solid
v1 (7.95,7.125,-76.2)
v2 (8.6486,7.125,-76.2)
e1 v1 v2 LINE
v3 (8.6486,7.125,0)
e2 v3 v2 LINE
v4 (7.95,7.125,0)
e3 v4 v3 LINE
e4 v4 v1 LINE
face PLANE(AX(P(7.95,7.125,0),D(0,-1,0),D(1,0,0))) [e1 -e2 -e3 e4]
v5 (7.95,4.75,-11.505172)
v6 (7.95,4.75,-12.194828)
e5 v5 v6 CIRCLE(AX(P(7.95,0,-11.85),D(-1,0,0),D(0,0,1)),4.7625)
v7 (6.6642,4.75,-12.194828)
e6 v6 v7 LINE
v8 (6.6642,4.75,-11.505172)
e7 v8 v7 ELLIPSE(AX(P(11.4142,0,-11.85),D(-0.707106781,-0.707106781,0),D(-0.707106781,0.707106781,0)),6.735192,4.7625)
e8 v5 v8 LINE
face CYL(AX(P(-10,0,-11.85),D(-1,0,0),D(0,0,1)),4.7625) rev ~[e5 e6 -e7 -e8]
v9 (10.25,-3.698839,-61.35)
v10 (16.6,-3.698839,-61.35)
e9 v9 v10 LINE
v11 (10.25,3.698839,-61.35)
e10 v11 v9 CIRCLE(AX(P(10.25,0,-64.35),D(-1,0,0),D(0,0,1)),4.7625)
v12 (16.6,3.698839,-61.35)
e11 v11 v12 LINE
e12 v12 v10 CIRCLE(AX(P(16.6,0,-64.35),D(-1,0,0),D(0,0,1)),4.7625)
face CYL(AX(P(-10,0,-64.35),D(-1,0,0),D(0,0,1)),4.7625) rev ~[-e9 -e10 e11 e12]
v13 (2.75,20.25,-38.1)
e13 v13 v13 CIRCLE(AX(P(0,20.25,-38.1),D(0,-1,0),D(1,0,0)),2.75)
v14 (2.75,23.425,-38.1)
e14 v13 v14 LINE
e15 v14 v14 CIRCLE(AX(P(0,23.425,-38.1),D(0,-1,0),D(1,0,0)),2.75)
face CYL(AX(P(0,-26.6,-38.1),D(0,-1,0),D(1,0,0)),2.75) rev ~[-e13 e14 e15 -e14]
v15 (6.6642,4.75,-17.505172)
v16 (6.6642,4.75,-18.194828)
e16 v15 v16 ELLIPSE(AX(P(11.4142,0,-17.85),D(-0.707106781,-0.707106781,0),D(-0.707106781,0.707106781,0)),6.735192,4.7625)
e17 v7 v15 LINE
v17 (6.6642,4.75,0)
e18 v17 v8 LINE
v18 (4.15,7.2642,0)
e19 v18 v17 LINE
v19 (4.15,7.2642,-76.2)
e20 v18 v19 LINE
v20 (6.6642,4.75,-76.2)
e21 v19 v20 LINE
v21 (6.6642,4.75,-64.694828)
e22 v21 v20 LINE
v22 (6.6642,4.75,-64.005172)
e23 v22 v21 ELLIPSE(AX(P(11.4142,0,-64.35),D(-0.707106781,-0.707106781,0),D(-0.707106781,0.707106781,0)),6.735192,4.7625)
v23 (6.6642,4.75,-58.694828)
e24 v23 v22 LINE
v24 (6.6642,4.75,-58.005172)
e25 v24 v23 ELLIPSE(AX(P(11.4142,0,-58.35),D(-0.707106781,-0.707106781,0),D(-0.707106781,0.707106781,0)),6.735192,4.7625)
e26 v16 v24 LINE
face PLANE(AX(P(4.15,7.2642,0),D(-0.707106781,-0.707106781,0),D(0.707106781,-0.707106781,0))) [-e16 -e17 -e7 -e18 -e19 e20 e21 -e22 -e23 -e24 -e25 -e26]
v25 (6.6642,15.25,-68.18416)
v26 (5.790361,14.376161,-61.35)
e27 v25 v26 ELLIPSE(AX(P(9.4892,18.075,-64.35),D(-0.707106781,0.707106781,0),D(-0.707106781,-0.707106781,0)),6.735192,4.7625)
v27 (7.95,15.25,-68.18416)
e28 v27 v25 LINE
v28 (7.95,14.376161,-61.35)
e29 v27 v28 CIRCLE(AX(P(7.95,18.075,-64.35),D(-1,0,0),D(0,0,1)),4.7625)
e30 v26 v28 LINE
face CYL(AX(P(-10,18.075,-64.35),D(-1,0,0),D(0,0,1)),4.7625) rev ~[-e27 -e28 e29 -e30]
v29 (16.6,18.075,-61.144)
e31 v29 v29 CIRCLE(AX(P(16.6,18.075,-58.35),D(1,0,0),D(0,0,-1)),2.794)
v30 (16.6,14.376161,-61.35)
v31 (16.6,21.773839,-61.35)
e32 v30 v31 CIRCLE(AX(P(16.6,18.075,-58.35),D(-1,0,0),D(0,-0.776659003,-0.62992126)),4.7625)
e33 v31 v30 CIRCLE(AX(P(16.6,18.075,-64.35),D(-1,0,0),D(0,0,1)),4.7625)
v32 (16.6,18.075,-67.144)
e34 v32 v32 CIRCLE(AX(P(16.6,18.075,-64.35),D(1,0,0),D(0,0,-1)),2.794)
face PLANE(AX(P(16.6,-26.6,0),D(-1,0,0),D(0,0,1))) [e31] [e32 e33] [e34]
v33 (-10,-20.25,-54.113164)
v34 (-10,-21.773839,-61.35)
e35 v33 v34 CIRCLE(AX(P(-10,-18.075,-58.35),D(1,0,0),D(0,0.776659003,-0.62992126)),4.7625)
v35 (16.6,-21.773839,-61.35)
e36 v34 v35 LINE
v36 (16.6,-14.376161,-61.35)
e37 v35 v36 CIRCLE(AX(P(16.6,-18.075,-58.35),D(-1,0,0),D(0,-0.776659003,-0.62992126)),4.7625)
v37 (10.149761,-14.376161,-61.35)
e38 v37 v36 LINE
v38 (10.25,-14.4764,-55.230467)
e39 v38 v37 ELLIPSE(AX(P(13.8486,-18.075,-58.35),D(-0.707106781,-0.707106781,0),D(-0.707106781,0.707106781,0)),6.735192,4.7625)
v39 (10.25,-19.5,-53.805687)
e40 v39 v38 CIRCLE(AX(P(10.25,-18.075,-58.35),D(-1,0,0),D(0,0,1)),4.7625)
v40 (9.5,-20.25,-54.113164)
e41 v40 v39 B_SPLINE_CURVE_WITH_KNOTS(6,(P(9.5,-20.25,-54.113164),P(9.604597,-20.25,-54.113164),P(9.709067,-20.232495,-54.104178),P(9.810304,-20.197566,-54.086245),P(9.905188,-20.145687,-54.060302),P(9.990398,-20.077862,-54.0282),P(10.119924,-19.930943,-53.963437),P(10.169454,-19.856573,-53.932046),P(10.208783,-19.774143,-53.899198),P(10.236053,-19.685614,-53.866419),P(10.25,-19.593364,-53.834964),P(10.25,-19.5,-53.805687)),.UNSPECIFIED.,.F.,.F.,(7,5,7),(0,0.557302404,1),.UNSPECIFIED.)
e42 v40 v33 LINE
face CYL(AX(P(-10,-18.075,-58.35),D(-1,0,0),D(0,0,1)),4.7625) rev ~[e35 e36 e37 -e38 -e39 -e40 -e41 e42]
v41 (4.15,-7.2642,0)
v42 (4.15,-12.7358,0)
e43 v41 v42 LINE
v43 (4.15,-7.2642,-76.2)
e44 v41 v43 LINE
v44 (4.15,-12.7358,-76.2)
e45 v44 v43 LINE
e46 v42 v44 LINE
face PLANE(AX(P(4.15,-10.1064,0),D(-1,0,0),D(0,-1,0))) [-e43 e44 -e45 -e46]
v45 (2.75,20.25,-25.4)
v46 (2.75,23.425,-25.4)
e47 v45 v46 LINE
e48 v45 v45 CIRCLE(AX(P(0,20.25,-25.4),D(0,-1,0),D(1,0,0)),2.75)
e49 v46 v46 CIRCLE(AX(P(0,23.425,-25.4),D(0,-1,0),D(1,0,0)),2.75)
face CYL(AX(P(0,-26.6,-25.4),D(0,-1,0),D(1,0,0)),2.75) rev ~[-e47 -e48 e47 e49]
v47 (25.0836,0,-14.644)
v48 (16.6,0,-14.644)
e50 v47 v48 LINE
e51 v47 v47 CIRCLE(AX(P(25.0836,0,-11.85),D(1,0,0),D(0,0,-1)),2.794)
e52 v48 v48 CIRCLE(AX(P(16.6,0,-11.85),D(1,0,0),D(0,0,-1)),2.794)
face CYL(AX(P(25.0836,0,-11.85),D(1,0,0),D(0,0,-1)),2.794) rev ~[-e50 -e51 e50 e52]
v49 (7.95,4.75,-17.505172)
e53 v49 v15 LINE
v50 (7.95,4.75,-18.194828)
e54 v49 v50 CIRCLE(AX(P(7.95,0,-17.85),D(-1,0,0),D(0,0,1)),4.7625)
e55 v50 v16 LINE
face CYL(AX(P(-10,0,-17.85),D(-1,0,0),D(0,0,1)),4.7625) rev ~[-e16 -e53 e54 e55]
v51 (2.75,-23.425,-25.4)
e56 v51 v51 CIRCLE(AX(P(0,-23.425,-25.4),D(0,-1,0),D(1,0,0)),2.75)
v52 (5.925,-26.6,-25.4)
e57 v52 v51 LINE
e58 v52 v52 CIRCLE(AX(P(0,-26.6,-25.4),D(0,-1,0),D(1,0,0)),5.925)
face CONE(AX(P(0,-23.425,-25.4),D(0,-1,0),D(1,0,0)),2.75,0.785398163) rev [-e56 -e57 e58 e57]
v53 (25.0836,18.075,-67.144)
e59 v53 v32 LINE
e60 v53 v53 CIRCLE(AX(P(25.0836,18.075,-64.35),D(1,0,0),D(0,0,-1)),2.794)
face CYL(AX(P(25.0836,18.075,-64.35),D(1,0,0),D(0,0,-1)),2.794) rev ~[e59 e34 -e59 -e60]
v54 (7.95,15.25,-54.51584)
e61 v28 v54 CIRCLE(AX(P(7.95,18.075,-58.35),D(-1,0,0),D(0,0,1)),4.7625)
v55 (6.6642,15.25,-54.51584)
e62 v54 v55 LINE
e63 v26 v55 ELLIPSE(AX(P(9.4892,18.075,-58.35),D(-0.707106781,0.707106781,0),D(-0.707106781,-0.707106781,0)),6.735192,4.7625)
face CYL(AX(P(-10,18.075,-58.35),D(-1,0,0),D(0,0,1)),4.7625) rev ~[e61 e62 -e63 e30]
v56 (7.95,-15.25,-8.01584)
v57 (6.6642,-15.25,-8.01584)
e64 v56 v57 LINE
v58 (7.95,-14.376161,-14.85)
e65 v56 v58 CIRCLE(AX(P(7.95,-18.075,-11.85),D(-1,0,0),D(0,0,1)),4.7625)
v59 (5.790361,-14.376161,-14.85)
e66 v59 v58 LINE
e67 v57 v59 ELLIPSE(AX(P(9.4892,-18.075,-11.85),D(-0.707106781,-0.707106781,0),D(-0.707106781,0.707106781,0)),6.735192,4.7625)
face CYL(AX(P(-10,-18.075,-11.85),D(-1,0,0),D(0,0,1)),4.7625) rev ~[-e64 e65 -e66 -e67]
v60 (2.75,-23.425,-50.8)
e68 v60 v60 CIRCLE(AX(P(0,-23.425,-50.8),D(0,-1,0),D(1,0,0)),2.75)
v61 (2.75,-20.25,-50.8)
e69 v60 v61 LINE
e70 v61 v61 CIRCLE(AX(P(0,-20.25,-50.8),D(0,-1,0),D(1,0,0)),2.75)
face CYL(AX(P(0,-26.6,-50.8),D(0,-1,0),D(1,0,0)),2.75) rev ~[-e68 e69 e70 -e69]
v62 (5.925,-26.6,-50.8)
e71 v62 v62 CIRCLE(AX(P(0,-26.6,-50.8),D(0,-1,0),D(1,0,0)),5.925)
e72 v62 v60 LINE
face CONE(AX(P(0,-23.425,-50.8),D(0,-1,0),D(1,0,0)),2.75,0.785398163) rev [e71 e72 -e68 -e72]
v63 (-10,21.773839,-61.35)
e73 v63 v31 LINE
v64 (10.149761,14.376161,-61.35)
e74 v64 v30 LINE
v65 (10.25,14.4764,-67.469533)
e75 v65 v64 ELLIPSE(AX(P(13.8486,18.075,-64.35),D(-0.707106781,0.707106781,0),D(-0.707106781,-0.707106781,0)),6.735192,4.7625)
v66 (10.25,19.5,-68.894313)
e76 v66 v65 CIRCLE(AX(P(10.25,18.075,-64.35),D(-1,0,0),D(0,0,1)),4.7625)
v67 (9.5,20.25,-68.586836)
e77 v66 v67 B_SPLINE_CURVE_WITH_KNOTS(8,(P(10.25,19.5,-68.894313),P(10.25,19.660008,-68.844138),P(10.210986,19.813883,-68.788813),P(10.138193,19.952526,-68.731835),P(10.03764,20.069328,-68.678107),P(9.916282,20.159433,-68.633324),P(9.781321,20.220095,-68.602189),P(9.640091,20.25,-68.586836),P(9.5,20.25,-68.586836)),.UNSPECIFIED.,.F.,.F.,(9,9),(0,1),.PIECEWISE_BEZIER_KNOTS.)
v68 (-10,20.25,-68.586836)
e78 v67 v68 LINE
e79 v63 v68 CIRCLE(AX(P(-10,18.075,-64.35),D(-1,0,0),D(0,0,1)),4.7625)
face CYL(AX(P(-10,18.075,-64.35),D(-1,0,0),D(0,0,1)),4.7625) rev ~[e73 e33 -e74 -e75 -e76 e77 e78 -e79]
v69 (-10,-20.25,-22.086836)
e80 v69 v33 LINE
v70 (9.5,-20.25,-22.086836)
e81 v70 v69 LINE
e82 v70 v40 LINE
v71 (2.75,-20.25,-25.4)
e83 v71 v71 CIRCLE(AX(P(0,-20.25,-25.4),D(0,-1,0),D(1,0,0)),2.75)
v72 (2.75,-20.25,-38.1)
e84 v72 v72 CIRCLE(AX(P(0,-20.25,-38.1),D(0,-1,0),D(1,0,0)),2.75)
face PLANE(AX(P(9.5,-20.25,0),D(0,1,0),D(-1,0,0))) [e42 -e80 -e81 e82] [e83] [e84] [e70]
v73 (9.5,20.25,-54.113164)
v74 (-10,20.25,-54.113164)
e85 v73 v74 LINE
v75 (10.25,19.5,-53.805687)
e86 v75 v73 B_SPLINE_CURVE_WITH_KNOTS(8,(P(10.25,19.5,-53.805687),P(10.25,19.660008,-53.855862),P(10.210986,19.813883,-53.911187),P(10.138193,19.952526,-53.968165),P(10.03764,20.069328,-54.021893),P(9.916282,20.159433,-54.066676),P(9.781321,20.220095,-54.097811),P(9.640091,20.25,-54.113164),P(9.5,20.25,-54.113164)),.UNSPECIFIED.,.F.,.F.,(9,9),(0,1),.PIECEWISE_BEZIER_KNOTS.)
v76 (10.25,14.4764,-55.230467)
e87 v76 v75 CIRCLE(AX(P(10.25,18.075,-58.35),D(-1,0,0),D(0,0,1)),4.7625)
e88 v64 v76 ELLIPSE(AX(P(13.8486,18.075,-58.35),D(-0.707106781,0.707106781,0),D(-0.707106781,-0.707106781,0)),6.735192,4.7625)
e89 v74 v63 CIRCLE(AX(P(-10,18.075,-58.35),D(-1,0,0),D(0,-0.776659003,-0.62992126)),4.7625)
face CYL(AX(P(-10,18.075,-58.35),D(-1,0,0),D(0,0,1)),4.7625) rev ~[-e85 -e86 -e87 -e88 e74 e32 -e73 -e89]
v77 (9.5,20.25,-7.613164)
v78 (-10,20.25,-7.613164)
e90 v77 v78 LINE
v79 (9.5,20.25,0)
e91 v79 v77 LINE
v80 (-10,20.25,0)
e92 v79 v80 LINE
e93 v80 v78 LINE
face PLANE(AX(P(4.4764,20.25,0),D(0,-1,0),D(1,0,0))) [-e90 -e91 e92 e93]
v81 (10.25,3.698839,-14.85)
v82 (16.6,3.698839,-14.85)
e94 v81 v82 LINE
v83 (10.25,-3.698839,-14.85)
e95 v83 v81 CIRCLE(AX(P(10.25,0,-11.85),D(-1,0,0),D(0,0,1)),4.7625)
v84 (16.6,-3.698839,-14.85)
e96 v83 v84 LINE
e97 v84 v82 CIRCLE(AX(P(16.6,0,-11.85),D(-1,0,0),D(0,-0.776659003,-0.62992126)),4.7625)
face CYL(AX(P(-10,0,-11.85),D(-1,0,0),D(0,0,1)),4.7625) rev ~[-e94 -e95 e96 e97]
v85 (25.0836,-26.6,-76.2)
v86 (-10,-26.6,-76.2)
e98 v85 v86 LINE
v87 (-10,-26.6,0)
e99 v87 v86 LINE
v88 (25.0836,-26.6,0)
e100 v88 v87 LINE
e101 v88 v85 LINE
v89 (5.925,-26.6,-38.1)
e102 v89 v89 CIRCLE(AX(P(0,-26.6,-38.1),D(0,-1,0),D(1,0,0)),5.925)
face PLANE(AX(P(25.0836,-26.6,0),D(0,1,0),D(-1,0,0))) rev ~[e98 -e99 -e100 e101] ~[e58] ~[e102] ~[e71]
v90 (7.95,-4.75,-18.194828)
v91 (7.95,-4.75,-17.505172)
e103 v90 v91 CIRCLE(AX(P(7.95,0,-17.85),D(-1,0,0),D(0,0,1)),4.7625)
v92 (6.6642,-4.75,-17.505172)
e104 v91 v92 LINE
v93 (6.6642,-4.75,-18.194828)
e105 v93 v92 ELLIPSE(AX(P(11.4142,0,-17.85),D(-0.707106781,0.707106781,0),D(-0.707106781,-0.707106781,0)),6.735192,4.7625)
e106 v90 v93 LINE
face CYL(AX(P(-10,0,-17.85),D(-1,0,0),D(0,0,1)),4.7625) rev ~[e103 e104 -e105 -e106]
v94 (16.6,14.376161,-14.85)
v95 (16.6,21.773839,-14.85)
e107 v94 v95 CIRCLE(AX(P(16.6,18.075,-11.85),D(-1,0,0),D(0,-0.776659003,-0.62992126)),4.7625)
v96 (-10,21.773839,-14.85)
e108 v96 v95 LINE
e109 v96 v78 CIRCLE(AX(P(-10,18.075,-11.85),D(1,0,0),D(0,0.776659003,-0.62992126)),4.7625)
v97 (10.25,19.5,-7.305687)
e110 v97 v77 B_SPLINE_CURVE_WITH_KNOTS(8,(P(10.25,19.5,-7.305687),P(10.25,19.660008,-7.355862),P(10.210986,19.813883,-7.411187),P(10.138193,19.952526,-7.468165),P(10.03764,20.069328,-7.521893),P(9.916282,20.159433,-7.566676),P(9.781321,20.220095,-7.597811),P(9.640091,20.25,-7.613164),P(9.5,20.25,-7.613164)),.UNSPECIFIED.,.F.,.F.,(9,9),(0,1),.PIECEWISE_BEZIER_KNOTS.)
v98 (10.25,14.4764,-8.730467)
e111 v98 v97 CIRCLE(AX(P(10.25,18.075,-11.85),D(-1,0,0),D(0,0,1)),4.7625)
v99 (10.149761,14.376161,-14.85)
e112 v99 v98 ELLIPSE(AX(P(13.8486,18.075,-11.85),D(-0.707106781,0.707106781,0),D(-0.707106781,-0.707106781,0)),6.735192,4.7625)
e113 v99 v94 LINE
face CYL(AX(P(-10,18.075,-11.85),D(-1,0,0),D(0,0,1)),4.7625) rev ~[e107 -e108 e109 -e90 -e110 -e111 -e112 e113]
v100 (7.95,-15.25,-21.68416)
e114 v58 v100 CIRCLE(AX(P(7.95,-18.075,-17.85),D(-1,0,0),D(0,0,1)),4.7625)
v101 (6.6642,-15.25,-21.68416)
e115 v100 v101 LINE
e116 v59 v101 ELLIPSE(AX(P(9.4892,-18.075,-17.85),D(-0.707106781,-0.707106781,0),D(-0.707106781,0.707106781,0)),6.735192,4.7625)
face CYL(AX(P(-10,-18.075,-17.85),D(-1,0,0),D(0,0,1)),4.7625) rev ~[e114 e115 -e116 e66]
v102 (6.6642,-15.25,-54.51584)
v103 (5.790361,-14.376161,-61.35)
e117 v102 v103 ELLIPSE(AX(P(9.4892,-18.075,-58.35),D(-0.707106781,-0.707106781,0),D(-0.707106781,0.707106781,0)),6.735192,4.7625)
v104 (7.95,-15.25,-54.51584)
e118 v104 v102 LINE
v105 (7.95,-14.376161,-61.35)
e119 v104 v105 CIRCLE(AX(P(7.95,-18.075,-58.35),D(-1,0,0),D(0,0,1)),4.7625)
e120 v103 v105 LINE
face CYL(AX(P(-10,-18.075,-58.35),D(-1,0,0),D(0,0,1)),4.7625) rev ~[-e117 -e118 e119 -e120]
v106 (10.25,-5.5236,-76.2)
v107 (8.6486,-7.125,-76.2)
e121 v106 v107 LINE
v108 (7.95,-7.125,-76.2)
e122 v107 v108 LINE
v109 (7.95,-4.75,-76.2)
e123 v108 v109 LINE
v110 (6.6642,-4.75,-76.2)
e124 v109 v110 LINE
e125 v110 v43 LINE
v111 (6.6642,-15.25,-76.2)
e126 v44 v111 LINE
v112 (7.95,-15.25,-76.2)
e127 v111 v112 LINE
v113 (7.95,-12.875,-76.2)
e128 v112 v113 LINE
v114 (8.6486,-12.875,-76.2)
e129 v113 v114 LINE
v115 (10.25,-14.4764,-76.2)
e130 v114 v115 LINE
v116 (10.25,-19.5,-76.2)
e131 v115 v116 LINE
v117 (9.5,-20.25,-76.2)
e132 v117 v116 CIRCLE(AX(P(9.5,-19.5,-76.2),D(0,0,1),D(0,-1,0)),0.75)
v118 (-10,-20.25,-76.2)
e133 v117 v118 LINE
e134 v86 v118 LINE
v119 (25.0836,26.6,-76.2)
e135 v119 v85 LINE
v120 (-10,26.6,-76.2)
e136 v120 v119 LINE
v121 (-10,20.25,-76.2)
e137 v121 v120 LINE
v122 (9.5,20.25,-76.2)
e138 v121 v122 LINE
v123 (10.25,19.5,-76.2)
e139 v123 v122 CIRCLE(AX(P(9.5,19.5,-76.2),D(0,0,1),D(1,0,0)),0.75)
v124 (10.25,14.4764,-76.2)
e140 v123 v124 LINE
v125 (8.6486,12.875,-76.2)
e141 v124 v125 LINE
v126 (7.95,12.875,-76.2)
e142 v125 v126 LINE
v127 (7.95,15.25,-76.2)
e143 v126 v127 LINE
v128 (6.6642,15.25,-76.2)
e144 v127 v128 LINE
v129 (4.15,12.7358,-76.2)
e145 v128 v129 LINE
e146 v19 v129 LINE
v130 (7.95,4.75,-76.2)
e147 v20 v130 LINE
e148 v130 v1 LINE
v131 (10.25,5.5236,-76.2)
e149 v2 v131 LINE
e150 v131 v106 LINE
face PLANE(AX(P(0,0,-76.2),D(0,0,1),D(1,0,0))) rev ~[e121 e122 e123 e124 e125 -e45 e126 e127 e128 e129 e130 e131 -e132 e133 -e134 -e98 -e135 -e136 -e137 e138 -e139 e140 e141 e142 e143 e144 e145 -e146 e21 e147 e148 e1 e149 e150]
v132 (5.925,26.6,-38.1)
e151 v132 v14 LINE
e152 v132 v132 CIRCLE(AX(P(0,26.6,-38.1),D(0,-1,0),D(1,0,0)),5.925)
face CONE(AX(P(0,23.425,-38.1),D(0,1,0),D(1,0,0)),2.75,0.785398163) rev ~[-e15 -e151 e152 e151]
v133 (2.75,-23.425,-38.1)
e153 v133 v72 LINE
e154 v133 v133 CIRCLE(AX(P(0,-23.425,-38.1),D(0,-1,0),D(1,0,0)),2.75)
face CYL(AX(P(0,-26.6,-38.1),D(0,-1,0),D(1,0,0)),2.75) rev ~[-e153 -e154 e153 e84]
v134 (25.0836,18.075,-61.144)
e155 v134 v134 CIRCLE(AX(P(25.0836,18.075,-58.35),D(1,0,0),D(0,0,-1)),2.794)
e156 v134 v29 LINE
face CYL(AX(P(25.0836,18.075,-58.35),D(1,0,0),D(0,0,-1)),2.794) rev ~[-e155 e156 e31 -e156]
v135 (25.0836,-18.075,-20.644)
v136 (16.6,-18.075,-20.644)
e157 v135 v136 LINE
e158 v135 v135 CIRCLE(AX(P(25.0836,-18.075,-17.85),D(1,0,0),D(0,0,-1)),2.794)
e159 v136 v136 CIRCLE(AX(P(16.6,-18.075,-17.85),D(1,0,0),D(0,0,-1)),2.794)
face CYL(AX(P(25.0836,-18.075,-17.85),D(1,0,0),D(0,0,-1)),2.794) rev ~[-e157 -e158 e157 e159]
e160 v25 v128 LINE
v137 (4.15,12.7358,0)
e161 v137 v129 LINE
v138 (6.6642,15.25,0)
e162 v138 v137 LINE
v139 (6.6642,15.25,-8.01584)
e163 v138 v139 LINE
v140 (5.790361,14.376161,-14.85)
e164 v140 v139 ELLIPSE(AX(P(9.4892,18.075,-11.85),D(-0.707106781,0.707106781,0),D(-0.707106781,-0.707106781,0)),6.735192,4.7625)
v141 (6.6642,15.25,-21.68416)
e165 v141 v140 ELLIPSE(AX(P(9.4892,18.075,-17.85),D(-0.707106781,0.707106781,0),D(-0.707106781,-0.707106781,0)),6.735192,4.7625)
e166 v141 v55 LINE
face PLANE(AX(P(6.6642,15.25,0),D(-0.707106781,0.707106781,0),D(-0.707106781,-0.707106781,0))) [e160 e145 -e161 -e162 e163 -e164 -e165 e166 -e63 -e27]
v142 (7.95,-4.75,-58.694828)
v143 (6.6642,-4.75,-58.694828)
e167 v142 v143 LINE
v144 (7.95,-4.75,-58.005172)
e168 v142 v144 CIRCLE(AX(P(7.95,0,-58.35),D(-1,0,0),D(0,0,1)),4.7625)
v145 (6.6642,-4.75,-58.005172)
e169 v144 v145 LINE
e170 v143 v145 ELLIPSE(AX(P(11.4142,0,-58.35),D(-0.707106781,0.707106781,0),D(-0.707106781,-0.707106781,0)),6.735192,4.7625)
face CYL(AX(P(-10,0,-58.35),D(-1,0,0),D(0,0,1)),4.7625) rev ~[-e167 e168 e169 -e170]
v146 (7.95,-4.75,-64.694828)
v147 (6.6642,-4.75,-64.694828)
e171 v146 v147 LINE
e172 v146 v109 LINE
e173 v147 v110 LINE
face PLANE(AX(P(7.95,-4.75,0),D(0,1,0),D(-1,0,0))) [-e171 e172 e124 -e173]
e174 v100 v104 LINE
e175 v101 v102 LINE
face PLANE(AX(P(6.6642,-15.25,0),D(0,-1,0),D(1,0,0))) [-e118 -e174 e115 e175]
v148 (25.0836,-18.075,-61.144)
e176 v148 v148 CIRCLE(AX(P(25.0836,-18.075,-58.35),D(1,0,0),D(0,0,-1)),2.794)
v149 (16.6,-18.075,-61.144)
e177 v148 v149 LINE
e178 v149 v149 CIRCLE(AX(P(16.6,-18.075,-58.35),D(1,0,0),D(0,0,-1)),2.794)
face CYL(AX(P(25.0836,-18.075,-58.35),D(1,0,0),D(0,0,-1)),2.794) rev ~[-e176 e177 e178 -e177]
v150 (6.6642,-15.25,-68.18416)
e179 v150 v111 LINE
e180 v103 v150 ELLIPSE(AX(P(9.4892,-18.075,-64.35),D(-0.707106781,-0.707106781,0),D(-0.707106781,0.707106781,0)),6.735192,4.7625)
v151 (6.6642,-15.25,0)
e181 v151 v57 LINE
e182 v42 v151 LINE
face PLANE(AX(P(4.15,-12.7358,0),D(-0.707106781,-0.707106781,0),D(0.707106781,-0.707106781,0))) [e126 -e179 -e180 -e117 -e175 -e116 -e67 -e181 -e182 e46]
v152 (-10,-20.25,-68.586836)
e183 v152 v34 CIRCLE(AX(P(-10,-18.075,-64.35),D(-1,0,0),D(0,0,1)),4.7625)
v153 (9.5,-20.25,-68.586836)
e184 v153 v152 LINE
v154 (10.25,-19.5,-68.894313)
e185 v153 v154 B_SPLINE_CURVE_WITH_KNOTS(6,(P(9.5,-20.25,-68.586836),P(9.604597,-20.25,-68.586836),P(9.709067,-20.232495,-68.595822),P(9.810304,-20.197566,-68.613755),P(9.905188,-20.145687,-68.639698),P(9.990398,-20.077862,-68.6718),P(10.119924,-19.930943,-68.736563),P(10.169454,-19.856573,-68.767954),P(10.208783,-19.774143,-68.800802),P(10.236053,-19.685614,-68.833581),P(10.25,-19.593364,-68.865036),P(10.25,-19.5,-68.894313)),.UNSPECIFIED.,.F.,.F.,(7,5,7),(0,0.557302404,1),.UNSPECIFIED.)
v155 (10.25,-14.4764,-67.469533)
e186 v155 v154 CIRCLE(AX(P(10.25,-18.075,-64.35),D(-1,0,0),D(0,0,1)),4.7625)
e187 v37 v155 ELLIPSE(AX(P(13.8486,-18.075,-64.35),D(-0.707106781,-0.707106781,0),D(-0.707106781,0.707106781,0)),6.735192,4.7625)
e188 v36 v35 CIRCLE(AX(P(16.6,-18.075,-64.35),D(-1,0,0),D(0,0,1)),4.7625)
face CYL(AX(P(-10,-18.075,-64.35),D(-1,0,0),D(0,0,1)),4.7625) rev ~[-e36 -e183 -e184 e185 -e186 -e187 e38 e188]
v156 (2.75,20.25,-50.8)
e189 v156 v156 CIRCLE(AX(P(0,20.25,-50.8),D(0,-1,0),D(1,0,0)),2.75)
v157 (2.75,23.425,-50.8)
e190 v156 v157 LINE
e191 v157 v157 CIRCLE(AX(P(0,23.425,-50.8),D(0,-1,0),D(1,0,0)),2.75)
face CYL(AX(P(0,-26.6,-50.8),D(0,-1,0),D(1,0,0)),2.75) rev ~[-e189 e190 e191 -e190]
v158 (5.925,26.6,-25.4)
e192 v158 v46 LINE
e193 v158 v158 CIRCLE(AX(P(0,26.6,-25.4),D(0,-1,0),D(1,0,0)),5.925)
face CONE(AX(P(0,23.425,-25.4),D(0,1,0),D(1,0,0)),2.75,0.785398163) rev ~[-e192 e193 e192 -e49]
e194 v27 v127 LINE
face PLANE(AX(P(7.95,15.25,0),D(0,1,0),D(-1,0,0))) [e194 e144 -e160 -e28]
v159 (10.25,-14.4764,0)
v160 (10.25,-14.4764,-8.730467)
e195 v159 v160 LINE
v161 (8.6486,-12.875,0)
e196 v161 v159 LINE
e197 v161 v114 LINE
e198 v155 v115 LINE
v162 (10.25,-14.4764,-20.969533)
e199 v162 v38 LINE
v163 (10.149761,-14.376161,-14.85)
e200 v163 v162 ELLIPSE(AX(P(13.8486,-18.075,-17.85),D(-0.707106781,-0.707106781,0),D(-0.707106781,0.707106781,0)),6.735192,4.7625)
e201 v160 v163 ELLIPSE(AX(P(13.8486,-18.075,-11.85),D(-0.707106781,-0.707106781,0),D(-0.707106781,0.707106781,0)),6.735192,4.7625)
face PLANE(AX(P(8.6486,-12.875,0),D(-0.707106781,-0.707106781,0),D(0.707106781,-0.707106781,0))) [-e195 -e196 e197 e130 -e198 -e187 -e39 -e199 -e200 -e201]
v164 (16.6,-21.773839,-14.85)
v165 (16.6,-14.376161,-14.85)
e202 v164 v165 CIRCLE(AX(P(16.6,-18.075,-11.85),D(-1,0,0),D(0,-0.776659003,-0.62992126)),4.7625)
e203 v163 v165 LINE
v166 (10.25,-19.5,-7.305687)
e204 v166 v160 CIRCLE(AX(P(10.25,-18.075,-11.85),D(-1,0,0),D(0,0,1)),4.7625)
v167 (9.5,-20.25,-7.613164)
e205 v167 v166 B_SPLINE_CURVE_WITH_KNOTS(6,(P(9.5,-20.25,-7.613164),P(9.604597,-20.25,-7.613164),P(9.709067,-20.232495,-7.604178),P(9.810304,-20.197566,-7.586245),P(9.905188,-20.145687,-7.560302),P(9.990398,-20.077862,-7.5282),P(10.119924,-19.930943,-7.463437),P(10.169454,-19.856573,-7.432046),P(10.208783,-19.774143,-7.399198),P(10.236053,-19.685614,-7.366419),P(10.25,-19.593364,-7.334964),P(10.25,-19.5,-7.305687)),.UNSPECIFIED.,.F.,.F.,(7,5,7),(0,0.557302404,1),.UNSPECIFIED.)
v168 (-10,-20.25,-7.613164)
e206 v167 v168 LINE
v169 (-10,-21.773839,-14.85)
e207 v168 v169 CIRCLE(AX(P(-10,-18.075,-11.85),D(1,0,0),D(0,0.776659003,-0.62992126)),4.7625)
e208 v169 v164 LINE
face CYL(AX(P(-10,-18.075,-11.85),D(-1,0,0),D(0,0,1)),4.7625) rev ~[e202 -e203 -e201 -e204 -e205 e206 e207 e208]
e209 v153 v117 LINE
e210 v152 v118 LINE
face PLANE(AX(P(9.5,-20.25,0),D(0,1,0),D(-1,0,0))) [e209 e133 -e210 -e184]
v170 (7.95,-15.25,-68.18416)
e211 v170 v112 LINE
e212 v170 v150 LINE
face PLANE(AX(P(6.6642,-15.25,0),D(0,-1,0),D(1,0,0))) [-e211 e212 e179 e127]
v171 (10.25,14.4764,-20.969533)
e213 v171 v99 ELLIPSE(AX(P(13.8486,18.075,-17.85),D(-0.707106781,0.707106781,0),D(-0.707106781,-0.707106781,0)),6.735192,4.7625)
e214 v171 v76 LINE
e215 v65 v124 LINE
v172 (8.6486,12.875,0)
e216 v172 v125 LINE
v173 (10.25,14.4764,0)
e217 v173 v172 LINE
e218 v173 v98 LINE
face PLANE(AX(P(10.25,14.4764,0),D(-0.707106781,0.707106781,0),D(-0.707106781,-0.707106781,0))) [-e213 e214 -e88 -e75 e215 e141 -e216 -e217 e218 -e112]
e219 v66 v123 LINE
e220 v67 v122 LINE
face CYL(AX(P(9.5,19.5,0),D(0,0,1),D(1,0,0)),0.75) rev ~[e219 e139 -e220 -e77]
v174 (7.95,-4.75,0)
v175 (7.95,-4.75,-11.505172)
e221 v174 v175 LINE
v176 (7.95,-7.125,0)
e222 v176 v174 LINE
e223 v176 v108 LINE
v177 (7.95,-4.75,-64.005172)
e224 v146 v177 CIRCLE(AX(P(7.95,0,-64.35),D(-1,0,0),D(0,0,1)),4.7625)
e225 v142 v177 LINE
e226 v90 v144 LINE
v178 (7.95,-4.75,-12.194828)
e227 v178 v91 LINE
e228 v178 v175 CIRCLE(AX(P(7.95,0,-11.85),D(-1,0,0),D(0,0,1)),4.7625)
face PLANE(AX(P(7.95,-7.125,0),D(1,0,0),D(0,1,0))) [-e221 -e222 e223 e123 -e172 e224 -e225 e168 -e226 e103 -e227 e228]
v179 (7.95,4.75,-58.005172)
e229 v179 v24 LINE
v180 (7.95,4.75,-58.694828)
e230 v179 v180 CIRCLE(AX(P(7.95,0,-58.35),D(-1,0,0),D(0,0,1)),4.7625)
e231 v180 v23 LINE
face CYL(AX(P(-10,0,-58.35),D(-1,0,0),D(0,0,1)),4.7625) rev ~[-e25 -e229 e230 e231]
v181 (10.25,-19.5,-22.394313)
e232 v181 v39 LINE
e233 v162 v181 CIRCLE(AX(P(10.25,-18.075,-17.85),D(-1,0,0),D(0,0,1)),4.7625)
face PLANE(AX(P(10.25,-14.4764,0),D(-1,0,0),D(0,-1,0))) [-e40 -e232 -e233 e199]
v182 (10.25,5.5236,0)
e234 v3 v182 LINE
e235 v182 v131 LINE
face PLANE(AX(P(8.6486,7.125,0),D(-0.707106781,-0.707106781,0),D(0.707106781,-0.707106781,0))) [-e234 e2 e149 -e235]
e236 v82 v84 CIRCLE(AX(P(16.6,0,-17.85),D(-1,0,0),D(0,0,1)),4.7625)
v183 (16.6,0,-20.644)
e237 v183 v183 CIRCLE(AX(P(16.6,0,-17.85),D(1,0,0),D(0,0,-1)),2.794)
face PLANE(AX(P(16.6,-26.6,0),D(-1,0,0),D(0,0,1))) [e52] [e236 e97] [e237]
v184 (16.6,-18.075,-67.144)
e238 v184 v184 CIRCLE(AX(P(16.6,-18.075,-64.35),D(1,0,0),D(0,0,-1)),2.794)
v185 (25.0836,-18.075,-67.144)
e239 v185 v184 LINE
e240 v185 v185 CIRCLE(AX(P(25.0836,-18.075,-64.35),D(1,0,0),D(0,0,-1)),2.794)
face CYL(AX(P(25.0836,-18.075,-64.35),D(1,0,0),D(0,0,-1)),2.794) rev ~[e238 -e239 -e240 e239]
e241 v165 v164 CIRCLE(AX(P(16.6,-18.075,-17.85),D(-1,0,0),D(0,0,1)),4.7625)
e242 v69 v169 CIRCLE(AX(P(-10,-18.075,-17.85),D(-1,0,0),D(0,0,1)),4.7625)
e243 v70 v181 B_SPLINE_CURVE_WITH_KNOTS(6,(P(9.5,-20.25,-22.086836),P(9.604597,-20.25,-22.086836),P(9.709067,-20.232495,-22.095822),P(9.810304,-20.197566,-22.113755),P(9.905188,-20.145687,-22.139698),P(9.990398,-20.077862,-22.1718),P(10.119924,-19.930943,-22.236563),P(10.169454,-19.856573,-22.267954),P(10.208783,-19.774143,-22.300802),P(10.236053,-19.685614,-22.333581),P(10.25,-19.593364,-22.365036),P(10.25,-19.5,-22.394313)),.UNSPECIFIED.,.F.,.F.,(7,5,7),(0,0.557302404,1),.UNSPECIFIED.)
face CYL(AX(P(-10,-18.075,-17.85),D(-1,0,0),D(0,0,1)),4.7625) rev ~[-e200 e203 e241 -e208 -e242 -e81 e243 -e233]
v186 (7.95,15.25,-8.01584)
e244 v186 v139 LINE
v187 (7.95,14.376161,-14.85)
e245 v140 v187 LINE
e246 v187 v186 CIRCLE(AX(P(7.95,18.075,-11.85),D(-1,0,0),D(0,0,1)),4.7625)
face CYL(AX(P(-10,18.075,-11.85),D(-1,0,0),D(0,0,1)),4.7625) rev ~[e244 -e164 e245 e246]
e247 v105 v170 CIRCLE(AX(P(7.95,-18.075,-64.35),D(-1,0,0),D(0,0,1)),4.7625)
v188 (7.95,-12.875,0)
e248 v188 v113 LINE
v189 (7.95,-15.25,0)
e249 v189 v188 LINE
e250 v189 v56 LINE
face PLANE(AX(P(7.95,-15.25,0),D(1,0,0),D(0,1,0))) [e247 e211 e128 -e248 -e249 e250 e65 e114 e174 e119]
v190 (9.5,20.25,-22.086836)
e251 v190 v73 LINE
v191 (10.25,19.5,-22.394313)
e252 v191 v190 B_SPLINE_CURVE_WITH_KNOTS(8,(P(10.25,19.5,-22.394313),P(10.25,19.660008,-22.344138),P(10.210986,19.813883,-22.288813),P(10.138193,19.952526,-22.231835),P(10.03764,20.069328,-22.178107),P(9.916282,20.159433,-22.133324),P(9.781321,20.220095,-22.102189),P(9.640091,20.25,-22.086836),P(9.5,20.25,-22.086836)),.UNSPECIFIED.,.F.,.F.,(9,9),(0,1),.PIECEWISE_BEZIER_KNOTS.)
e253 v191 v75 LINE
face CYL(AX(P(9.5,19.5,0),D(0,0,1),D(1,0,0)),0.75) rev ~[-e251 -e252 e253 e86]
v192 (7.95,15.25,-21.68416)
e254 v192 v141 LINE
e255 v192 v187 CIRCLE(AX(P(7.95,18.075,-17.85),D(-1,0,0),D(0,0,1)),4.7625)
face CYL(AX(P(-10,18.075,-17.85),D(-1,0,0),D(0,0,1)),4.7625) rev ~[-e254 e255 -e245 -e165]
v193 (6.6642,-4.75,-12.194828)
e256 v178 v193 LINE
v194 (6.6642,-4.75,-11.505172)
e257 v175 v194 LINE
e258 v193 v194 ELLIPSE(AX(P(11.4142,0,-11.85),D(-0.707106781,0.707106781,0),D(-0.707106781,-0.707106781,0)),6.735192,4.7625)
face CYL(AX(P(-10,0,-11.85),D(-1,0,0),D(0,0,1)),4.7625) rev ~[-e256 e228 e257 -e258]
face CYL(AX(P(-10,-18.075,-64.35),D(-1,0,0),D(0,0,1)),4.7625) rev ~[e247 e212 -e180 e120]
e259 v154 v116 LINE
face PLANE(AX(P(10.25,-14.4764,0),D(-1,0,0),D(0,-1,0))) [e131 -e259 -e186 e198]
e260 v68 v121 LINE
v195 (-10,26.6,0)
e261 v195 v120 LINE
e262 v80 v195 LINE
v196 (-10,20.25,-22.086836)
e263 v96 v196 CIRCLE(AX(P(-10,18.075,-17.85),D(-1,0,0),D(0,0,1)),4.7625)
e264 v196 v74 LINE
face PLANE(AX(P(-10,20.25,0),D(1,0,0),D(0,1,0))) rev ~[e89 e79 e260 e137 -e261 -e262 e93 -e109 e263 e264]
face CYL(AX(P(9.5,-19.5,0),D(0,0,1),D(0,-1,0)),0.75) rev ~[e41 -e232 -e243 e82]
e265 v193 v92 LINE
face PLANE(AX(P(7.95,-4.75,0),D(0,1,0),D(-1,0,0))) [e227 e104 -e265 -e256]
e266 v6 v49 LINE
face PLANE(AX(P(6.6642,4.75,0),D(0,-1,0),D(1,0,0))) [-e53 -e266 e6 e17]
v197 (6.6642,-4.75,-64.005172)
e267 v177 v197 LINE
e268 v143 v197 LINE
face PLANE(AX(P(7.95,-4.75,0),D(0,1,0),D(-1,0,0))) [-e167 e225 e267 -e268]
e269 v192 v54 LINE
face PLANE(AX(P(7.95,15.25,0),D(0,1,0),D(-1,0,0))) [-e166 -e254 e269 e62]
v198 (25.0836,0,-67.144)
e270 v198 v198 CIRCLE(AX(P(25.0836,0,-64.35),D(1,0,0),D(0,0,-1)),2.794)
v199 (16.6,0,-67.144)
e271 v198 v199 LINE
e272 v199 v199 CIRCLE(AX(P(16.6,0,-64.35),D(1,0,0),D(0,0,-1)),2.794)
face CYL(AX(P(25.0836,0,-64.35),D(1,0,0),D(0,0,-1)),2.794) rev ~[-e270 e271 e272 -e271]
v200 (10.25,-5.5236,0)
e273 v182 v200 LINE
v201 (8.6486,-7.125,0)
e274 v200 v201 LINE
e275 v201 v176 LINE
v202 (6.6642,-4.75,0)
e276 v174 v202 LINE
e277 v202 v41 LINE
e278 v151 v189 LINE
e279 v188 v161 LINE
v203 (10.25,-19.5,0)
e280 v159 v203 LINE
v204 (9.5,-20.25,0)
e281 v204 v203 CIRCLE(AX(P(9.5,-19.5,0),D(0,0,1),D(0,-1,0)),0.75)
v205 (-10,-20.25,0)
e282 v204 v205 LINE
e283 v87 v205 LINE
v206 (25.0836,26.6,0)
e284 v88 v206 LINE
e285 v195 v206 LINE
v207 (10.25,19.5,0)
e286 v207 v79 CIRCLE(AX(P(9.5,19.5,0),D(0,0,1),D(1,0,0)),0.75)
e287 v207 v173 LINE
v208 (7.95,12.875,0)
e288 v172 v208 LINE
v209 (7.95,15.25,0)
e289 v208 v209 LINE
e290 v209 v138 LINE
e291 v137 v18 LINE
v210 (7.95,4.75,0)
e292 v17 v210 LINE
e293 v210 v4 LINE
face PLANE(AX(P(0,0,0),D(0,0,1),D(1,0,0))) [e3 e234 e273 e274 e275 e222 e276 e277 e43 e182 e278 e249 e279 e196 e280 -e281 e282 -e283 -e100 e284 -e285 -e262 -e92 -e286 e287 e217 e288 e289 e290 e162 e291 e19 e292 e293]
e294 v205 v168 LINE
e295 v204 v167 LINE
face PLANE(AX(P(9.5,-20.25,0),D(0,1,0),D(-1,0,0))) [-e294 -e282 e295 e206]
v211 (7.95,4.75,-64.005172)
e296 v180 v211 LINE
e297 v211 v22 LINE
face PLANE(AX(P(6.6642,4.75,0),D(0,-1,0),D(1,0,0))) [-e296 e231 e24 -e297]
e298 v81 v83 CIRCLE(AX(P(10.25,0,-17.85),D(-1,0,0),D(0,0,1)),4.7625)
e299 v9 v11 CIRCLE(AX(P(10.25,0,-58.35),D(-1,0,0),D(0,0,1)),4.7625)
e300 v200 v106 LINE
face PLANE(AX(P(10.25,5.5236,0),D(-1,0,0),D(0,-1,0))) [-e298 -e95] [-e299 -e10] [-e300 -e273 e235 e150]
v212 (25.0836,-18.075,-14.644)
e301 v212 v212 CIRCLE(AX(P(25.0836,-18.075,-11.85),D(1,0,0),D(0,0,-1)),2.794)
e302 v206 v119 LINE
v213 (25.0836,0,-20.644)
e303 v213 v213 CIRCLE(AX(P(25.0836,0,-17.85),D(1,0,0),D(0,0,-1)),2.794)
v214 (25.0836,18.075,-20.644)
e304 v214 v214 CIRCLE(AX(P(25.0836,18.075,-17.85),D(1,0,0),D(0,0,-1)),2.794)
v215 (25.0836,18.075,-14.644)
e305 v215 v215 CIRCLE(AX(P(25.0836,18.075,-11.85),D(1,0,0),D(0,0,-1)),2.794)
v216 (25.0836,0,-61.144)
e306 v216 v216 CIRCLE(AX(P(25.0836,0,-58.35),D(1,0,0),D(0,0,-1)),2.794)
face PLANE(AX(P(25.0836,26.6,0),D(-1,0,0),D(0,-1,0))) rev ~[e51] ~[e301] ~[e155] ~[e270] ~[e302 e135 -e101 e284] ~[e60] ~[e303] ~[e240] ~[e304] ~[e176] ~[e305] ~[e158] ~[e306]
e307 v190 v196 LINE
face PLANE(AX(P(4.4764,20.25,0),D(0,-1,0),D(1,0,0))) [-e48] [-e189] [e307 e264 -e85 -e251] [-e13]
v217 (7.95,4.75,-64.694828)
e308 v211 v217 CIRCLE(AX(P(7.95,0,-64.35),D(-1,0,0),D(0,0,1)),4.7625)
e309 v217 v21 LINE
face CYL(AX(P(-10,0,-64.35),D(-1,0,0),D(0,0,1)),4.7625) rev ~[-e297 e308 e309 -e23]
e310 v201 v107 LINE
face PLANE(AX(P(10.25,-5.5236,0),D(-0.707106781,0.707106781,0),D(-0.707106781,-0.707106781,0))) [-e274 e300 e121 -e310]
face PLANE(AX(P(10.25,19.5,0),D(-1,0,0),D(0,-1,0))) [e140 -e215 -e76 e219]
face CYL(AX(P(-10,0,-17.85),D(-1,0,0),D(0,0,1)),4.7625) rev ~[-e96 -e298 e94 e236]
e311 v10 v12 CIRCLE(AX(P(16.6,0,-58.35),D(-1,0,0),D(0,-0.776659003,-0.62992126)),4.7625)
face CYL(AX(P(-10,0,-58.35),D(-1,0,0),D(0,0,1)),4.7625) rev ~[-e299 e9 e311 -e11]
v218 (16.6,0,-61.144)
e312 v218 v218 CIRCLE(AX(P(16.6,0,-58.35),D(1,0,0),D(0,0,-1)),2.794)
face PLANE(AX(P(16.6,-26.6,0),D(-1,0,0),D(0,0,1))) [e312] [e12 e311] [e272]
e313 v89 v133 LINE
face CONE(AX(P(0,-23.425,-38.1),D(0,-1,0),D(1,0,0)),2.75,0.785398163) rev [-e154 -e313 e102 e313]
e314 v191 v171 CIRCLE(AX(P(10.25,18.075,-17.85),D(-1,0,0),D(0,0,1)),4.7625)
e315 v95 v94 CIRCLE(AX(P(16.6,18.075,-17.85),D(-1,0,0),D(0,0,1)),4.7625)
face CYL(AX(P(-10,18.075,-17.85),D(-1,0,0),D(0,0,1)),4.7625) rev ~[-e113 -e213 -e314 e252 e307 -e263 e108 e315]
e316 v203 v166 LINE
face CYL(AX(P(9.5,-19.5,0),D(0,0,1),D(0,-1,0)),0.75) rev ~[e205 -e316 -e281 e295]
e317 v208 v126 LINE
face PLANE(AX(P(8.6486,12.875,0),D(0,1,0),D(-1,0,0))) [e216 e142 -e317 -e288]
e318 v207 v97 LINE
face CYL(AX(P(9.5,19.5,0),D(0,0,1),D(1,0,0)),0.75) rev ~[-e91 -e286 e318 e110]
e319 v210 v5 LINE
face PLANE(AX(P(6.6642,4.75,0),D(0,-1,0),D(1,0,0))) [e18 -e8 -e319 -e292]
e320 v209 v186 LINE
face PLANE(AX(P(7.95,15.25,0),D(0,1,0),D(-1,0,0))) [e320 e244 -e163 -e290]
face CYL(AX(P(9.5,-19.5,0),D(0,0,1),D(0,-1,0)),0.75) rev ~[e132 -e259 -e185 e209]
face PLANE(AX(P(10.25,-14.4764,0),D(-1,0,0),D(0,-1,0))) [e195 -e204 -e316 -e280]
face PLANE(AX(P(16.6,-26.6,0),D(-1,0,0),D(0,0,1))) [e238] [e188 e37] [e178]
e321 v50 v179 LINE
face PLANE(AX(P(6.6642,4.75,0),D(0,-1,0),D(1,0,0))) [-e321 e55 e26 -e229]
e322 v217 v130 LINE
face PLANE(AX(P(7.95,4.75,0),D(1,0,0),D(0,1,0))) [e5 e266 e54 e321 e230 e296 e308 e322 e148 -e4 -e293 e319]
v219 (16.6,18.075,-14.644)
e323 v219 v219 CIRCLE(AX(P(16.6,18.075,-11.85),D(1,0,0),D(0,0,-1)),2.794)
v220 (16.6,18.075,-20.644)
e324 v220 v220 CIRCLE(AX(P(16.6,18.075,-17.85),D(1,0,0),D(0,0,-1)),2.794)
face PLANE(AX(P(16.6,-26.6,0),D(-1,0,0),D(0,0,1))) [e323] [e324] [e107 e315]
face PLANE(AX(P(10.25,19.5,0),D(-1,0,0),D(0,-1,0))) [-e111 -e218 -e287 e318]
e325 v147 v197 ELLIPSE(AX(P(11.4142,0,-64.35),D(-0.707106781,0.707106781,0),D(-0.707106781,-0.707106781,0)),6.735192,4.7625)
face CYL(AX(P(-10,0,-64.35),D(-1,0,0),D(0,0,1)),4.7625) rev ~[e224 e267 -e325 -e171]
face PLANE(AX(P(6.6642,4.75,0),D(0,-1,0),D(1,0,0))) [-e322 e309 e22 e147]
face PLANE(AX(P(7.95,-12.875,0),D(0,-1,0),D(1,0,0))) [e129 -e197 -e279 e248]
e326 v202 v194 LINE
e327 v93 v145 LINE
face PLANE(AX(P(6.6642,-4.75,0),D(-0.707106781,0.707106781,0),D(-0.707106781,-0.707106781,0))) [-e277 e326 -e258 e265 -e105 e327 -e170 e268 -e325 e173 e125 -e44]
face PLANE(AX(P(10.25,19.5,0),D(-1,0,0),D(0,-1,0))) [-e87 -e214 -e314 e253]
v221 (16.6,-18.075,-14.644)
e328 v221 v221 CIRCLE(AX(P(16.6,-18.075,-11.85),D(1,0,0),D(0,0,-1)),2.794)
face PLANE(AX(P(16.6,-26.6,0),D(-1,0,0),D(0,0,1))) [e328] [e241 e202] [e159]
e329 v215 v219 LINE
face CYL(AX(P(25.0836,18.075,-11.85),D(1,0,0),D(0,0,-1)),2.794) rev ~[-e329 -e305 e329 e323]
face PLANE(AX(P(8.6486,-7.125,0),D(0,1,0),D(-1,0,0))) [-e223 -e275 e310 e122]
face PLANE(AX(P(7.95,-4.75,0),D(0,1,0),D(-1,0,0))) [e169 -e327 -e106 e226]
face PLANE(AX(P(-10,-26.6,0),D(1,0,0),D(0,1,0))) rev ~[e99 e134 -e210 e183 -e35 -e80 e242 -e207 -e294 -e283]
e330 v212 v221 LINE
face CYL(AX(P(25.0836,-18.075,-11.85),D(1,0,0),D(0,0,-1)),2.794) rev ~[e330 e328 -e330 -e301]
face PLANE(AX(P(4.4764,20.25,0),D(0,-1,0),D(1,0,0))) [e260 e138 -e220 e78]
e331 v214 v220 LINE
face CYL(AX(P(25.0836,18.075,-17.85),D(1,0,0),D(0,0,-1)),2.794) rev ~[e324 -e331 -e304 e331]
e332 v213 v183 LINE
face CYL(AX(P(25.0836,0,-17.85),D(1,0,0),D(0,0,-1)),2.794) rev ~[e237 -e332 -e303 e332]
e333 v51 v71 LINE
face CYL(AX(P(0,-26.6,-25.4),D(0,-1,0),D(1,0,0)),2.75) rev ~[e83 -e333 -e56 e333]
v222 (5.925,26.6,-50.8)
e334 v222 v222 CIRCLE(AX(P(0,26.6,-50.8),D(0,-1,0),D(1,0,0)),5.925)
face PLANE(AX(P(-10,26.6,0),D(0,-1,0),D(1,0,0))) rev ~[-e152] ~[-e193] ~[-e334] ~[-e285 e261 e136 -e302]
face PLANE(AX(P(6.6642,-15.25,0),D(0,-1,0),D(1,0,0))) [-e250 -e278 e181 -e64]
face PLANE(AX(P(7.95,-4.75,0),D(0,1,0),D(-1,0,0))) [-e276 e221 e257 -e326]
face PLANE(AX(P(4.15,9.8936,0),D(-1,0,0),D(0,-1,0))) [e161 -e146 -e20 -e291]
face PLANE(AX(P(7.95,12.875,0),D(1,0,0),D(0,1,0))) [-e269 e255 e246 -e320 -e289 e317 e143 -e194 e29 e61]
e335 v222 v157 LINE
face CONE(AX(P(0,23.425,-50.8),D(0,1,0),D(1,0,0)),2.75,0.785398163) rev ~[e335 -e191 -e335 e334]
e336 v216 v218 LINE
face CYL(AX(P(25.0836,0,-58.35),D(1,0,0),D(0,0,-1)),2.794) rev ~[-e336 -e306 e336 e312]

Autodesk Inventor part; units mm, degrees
ref_plane "YZ Plane" through (0, 0, 0) normal (1, 0, 0) x (0, 1, 0)
ref_plane "XZ Plane" through (0, 0, 0) normal (0, 1, 0) x (-1, 0, 0)
ref_plane "XY Plane" through (0, 0, 0) normal (0, 0, 1) x (1, 0, 0)
sketch "Sketch1" plane through (0, 0, 0) normal (0, 0, 1) x (1, 0, 0)
  line L0 (3.69, 10) -> (3.9, 9.79)
  line L1 (3.69, 10) -> (3.9, 10.21)
  line L2 (3.9, 10.21) -> (3.9, 12.8393)
  line L3 (3.9, 12.8393) -> (6.5607, 15.5)
  line L4 (6.5607, 15.5) -> (8.2, 15.5)
  line L5 (8.2, 15.5) -> (8.2, 13.125)
  line L6 (8.2, 13.125) -> (8.545, 13.125)
  line L7 (8.545, 13.125) -> (10, 14.58)
  line L8 (10, 14.58) -> (10, 19.5)
  arc A0 (10, 19.5) -> (9.5, 20) centre (9.5, 19.5) ccw
  line L9 (9.5, 20) -> (4.58, 20)
  line L10 (3.125, 18.545) -> (4.58, 20)
  line L11 (3.125, 18.2) -> (3.125, 18.545)
  line L12 (5.5, 18.2) -> (3.125, 18.2)
  line L13 (5.5, 16.5607) -> (5.5, 18.2)
  line L14 (2.8393, 13.9) -> (5.5, 16.5607)
  line L15 (0.21, 13.9) -> (2.8393, 13.9)
  line L16 (0, 13.69) -> (0.21, 13.9)
  line L17 (0, 13.69) -> (-0.21, 13.9)
  line L18 (-0.21, 13.9) -> (-2.8393, 13.9)
  line L19 (-2.8393, 13.9) -> (-5.5, 16.5607)
  line L20 (-5.5, 16.5607) -> (-5.5, 18.2)
  line L21 (-5.5, 18.2) -> (-3.125, 18.2)
  line L22 (-3.125, 18.2) -> (-3.125, 18.545)
  line L23 (-3.125, 18.545) -> (-4.58, 20)
  line L24 (-4.58, 20) -> (-9.5, 20)
  arc A1 (-9.5, 20) -> (-10, 19.5) centre (-9.5, 19.5) ccw
  line L25 (-10, 14.58) -> (-10, 19.5)
  line L26 (-8.545, 13.125) -> (-10, 14.58)
  line L27 (-8.2, 13.125) -> (-8.545, 13.125)
  line L28 (-8.2, 15.5) -> (-8.2, 13.125)
  line L29 (-6.5607, 15.5) -> (-8.2, 15.5)
  line L30 (-3.9, 12.8393) -> (-6.5607, 15.5)
  line L31 (-3.9, 10.21) -> (-3.9, 12.8393)
  line L32 (-3.69, 10) -> (-3.9, 10.21)
  line L33 (-3.69, 10) -> (-3.9, 9.79)
  line L34 (-3.9, 9.79) -> (-3.9, 7.1607)
  line L35 (-3.9, 7.1607) -> (-6.5607, 4.5)
  line L36 (-6.5607, 4.5) -> (-8.2, 4.5)
  line L37 (-8.2, 4.5) -> (-8.2, 6.875)
  line L38 (-8.2, 6.875) -> (-8.545, 6.875)
  line L39 (-8.545, 6.875) -> (-10, 5.42)
  line L40 (-10, -5.42) -> (-10, 5.42)
  line L41 (-8.545, -6.875) -> (-10, -5.42)
  line L42 (-8.2, -6.875) -> (-8.545, -6.875)
  line L43 (-8.2, -4.5) -> (-8.2, -6.875)
  line L44 (-6.5607, -4.5) -> (-8.2, -4.5)
  line L45 (-3.9, -7.1607) -> (-6.5607, -4.5)
  line L46 (-3.9, -9.79) -> (-3.9, -7.1607)
  line L47 (-3.69, -10) -> (-3.9, -9.79)
  line L48 (-3.69, -10) -> (-3.9, -10.21)
  line L49 (-3.9, -10.21) -> (-3.9, -12.8393)
  line L50 (-3.9, -12.8393) -> (-6.5607, -15.5)
  line L51 (-6.5607, -15.5) -> (-8.2, -15.5)
  line L52 (-8.2, -15.5) -> (-8.2, -13.125)
  line L53 (-8.2, -13.125) -> (-8.545, -13.125)
  line L54 (-8.545, -13.125) -> (-10, -14.58)
  line L55 (-10, -19.5) -> (-10, -14.58)
  arc A2 (-10, -19.5) -> (-9.5, -20) centre (-9.5, -19.5) ccw
  line L56 (-4.58, -20) -> (-9.5, -20)
  line L57 (-3.125, -18.545) -> (-4.58, -20)
  line L58 (-3.125, -18.2) -> (-3.125, -18.545)
  line L59 (-5.5, -18.2) -> (-3.125, -18.2)
  line L60 (-5.5, -16.5607) -> (-5.5, -18.2)
  line L61 (-2.8393, -13.9) -> (-5.5, -16.5607)
  line L62 (-0.21, -13.9) -> (-2.8393, -13.9)
  line L63 (0, -13.69) -> (-0.21, -13.9)
  line L64 (0, -13.69) -> (0.21, -13.9)
  line L65 (0.21, -13.9) -> (2.8393, -13.9)
  line L66 (2.8393, -13.9) -> (5.5, -16.5607)
  line L67 (5.5, -16.5607) -> (5.5, -18.2)
  line L68 (5.5, -18.2) -> (3.125, -18.2)
  line L69 (3.125, -18.2) -> (3.125, -18.545)
  line L70 (3.125, -18.545) -> (4.58, -20)
  line L71 (9.5, -20) -> (4.58, -20)
  arc A3 (9.5, -20) -> (10, -19.5) centre (9.5, -19.5) ccw
  line L72 (10, -19.5) -> (10, -14.58)
  line L73 (8.545, -13.125) -> (10, -14.58)
  line L74 (8.2, -13.125) -> (8.545, -13.125)
  line L75 (8.2, -15.5) -> (8.2, -13.125)
  line L76 (6.5607, -15.5) -> (8.2, -15.5)
  line L77 (3.9, -12.8393) -> (6.5607, -15.5)
  line L78 (3.9, -10.21) -> (3.9, -12.8393)
  line L79 (3.69, -10) -> (3.9, -10.21)
  line L80 (3.69, -10) -> (3.9, -9.79)
  line L81 (3.9, -9.79) -> (3.9, -7.1607)
  line L82 (3.9, -7.1607) -> (6.5607, -4.5)
  line L83 (6.5607, -4.5) -> (8.2, -4.5)
  line L84 (8.2, -4.5) -> (8.2, -6.875)
  line L85 (8.2, -6.875) -> (8.545, -6.875)
  line L86 (8.545, -6.875) -> (10, -5.42)
  line L87 (10, -5.42) -> (10, 5.42)
  line L88 (8.545, 6.875) -> (10, 5.42)
  line L89 (8.2, 6.875) -> (8.545, 6.875)
  line L90 (8.2, 4.5) -> (8.2, 6.875)
  line L91 (6.5607, 4.5) -> (8.2, 4.5)
  line L92 (3.9, 7.1607) -> (6.5607, 4.5)
  line L93 (3.9, 9.79) -> (3.9, 7.1607)
  circle A4 centre (0, -10) radius 2.1
  circle A5 centre (0, 10) radius 2.1
  line L94 (-8.2, -2.7) -> (-6.2393, -2.7)
  line L95 (-8.2, -2.7) -> (-8.2, 2.7)
  line L96 (-8.2, 2.7) -> (-6.2393, 2.7)
  line L97 (-6.2393, 2.7) -> (-2.8393, 6.1)
  line L98 (-2.8393, 6.1) -> (2.8393, 6.1)
  line L99 (6.2393, 2.7) -> (2.8393, 6.1)
  line L100 (8.2, 2.7) -> (6.2393, 2.7)
  line L101 (8.2, -2.7) -> (8.2, 2.7)
  line L102 (8.2, -2.7) -> (6.2393, -2.7)
  line L103 (6.2393, -2.7) -> (2.8393, -6.1)
  line L104 (-2.8393, -6.1) -> (2.8393, -6.1)
  line L105 (-6.2393, -2.7) -> (-2.8393, -6.1)
  line L106 (10.25, 19.5) -> (10.25, 14.4764)
  line L107 (10.25, 14.4764) -> (8.6486, 12.875)
  line L108 (8.6486, 12.875) -> (7.95, 12.875)
  line L109 (7.95, 12.875) -> (7.95, 15.25)
  line L110 (7.95, 15.25) -> (6.6642, 15.25)
  line L111 (6.6642, 15.25) -> (4.15, 12.7358)
  line L112 (4.15, 12.7358) -> (4.15, 10.1064)
  line L113 (4.15, 9.8936) -> (4.15, 7.2642)
  line L114 (4.15, 7.2642) -> (6.6642, 4.75)
  line L115 (6.6642, 4.75) -> (7.95, 4.75)
  line L116 (7.95, 4.75) -> (7.95, 7.125)
  line L117 (7.95, 7.125) -> (8.6486, 7.125)
  line L118 (8.6486, 7.125) -> (10.25, 5.5236)
  line L119 (10.25, 5.5236) -> (10.25, -5.5236)
  line L120 (10.25, -5.5236) -> (8.6486, -7.125)
  line L121 (8.6486, -7.125) -> (7.95, -7.125)
  line L122 (7.95, -7.125) -> (7.95, -4.75)
  line L123 (7.95, -4.75) -> (6.6642, -4.75)
  line L124 (6.6642, -4.75) -> (4.15, -7.2642)
  line L125 (4.15, -7.2642) -> (4.15, -9.8936)
  line L126 (4.15, -10.1064) -> (4.15, -12.7358)
  line L127 (4.15, -12.7358) -> (6.6642, -15.25)
  line L128 (6.6642, -15.25) -> (7.95, -15.25)
  line L129 (7.95, -15.25) -> (7.95, -12.875)
  line L130 (7.95, -12.875) -> (8.6486, -12.875)
  line L131 (8.6486, -12.875) -> (10.25, -14.4764)
  line L132 (10.25, -14.4764) -> (10.25, -19.5)
  arc A6 (9.5, -20.25) -> (10.25, -19.5) centre (9.5, -19.5) ccw
  line L133 (9.5, -20.25) -> (-10, -20.25)
  line L134 (4.4764, 20.25) -> (9.5, 20.25)
  arc A7 (10.25, 19.5) -> (9.5, 20.25) centre (9.5, 19.5) ccw
  line L135 (4.15, 10.1064) -> (4.15, 9.8936)
  line L136 (4.15, -9.8936) -> (4.15, -10.1064)
  line L137 (-10, 20.25) -> (-10, 26.6)
  line L138 (-10, 26.6) -> (25.0836, 26.6)
  line L139 (25.0836, 26.6) -> (25.0836, -26.6)
  line L140 (25.0836, -26.6) -> (-10, -26.6)
  line L141 (-10, -26.6) -> (-10, -20.25)
  line L142 (25.0836, -21.0887) -> (25.0836, 18.3413)
  line L143 (4.4764, 20.25) -> (-10, 20.25)
  point P0 (0, 0)
  dimension "d0" = 0.25
  dimension "d1" = 6.35
  dimension "d2" = 6.35
  dimension "d27" = 14.8336
  dimension "d28" = 20.25
extrude "Extrusion1" add sketch "Sketch1" against normal blind 76.2 contours A7 L134 L143 L137 L138 L139 L140 L141 L133 A6 L132 L131 L130 L129 L128 L127 L126 L136 L125 L124 L123 L122 L121 L120 L119 L118 L117 L116 L115 L114 L113 L135 L112 L111 L110 L109 L108 L107 L106
sketch "Sketch2" plane through (-10, -26.6, 0) normal (0, -1, 0) x (1, 0, 0)
  circle A0 centre (10, -25.4) radius 2.75
  circle A1 centre (10, -38.1) radius 2.75
  circle A2 centre (10, -50.8) radius 2.75
  point P0 (10, 0)
  dimension "d5" = 5.5
  dimension "d6" = 12.7
  dimension "d7" = 12.7
  dimension "d8" = 25.4
extrude "Extrusion2" cut sketch "Sketch2" against normal through all
sketch "Sketch5" plane through (25.0836, -26.6, 0) normal (1, 0, 0) x (0, 0, -1)
  circle A0 centre (11.85, 26.6) radius 2.794
  circle A1 centre (11.85, 44.675) radius 2.794
  circle A2 centre (11.85, 8.525) radius 2.794
  circle A3 centre (17.85, 26.6) radius 2.794
  circle A4 centre (17.85, 44.675) radius 2.794
  circle A5 centre (17.85, 8.525) radius 2.794
  circle A6 centre (58.35, 26.6) radius 2.794
  circle A7 centre (58.35, 44.675) radius 2.794
  circle A8 centre (58.35, 8.525) radius 2.794
  circle A9 centre (64.35, 26.6) radius 2.794
  circle A10 centre (64.35, 44.675) radius 2.794
  circle A11 centre (64.35, 8.525) radius 2.794
  line L0 (0, 0) -> (0, 53.2) projected
  line L1 (38.1, 36.6351) -> (38.1, 5.7689)
  point P0 (0, 26.6)
  point P1 (0, 26.6)
  dimension "d14" = 5.588
  dimension "d15" = 52.5
  dimension "d16" = 40.5
  dimension "d17" = 38.1
  dimension "d18" = 20.25
  dimension "d19" = 26.25
  dimension "d22" = 18.075
  dimension "d23" = 18.075
extrude "Extrusion4" cut sketch "Sketch5" against normal through all
sketch "Sketch6" plane through (-10, -26.6, 0) normal (-1, 0, 0) x (0, 0, 1)
  circle A0 centre (-11.85, 8.525) radius 2.794 construction
  circle A1 centre (-11.85, 8.525) radius 4.7625
  circle A2 centre (-17.85, 8.525) radius 2.794 construction
  circle A3 centre (-17.85, 8.525) radius 4.7625
  circle A4 centre (-17.85, 26.6) radius 2.794 construction
  circle A5 centre (-17.85, 26.6) radius 4.7625
  circle A6 centre (-11.85, 26.6) radius 2.794 construction
  circle A7 centre (-11.85, 26.6) radius 4.7625
  circle A8 centre (-11.85, 44.675) radius 2.794 construction
  circle A9 centre (-11.85, 44.675) radius 4.7625
  arc A10 (-20.2533, 46.1) -> (-15.4467, 46.1) centre (-17.85, 44.675) ccw construction
  circle A11 centre (-17.85, 44.675) radius 4.7625
  arc A12 (-55.9467, 7.1) -> (-60.7533, 7.1) centre (-58.35, 8.525) ccw construction
  circle A13 centre (-58.35, 8.525) radius 4.7625
  arc A14 (-61.9467, 7.1) -> (-66.7533, 7.1) centre (-64.35, 8.525) ccw construction
  circle A15 centre (-64.35, 8.525) radius 4.7625
  circle A16 centre (-58.35, 26.6) radius 2.794 construction
  circle A17 centre (-58.35, 26.6) radius 4.7625
  circle A18 centre (-64.35, 26.6) radius 2.794 construction
  circle A19 centre (-64.35, 26.6) radius 4.7625
  circle A20 centre (-64.35, 44.675) radius 2.794 construction
  circle A21 centre (-64.35, 44.675) radius 4.7625
  circle A22 centre (-58.35, 44.675) radius 2.794 construction
  circle A23 centre (-58.35, 44.675) radius 4.7625
  point P0 (0, 26.6)
  dimension "d24" = 9.525
extrude "Extrusion5" cut sketch "Sketch6" against normal blind 26.6
chamfer "Chamfer1" distance 3.175 angle 45 6 edges at (-2.75, -26.6, -50.8) (-2.75, -26.6, -38.1) (-2.75, -26.6, -25.4) (-2.75, 26.6, -25.4) (-2.75, 26.6, -38.1) (-2.75, 26.6, -50.8)
equation "\"d2\" = d1"
equation "\"d7\" = d6"
equation "\"d18\" = 0.5 * d16"
equation "\"d19\" = 0.5 * d15"
properties part number "NerfRailMount"
